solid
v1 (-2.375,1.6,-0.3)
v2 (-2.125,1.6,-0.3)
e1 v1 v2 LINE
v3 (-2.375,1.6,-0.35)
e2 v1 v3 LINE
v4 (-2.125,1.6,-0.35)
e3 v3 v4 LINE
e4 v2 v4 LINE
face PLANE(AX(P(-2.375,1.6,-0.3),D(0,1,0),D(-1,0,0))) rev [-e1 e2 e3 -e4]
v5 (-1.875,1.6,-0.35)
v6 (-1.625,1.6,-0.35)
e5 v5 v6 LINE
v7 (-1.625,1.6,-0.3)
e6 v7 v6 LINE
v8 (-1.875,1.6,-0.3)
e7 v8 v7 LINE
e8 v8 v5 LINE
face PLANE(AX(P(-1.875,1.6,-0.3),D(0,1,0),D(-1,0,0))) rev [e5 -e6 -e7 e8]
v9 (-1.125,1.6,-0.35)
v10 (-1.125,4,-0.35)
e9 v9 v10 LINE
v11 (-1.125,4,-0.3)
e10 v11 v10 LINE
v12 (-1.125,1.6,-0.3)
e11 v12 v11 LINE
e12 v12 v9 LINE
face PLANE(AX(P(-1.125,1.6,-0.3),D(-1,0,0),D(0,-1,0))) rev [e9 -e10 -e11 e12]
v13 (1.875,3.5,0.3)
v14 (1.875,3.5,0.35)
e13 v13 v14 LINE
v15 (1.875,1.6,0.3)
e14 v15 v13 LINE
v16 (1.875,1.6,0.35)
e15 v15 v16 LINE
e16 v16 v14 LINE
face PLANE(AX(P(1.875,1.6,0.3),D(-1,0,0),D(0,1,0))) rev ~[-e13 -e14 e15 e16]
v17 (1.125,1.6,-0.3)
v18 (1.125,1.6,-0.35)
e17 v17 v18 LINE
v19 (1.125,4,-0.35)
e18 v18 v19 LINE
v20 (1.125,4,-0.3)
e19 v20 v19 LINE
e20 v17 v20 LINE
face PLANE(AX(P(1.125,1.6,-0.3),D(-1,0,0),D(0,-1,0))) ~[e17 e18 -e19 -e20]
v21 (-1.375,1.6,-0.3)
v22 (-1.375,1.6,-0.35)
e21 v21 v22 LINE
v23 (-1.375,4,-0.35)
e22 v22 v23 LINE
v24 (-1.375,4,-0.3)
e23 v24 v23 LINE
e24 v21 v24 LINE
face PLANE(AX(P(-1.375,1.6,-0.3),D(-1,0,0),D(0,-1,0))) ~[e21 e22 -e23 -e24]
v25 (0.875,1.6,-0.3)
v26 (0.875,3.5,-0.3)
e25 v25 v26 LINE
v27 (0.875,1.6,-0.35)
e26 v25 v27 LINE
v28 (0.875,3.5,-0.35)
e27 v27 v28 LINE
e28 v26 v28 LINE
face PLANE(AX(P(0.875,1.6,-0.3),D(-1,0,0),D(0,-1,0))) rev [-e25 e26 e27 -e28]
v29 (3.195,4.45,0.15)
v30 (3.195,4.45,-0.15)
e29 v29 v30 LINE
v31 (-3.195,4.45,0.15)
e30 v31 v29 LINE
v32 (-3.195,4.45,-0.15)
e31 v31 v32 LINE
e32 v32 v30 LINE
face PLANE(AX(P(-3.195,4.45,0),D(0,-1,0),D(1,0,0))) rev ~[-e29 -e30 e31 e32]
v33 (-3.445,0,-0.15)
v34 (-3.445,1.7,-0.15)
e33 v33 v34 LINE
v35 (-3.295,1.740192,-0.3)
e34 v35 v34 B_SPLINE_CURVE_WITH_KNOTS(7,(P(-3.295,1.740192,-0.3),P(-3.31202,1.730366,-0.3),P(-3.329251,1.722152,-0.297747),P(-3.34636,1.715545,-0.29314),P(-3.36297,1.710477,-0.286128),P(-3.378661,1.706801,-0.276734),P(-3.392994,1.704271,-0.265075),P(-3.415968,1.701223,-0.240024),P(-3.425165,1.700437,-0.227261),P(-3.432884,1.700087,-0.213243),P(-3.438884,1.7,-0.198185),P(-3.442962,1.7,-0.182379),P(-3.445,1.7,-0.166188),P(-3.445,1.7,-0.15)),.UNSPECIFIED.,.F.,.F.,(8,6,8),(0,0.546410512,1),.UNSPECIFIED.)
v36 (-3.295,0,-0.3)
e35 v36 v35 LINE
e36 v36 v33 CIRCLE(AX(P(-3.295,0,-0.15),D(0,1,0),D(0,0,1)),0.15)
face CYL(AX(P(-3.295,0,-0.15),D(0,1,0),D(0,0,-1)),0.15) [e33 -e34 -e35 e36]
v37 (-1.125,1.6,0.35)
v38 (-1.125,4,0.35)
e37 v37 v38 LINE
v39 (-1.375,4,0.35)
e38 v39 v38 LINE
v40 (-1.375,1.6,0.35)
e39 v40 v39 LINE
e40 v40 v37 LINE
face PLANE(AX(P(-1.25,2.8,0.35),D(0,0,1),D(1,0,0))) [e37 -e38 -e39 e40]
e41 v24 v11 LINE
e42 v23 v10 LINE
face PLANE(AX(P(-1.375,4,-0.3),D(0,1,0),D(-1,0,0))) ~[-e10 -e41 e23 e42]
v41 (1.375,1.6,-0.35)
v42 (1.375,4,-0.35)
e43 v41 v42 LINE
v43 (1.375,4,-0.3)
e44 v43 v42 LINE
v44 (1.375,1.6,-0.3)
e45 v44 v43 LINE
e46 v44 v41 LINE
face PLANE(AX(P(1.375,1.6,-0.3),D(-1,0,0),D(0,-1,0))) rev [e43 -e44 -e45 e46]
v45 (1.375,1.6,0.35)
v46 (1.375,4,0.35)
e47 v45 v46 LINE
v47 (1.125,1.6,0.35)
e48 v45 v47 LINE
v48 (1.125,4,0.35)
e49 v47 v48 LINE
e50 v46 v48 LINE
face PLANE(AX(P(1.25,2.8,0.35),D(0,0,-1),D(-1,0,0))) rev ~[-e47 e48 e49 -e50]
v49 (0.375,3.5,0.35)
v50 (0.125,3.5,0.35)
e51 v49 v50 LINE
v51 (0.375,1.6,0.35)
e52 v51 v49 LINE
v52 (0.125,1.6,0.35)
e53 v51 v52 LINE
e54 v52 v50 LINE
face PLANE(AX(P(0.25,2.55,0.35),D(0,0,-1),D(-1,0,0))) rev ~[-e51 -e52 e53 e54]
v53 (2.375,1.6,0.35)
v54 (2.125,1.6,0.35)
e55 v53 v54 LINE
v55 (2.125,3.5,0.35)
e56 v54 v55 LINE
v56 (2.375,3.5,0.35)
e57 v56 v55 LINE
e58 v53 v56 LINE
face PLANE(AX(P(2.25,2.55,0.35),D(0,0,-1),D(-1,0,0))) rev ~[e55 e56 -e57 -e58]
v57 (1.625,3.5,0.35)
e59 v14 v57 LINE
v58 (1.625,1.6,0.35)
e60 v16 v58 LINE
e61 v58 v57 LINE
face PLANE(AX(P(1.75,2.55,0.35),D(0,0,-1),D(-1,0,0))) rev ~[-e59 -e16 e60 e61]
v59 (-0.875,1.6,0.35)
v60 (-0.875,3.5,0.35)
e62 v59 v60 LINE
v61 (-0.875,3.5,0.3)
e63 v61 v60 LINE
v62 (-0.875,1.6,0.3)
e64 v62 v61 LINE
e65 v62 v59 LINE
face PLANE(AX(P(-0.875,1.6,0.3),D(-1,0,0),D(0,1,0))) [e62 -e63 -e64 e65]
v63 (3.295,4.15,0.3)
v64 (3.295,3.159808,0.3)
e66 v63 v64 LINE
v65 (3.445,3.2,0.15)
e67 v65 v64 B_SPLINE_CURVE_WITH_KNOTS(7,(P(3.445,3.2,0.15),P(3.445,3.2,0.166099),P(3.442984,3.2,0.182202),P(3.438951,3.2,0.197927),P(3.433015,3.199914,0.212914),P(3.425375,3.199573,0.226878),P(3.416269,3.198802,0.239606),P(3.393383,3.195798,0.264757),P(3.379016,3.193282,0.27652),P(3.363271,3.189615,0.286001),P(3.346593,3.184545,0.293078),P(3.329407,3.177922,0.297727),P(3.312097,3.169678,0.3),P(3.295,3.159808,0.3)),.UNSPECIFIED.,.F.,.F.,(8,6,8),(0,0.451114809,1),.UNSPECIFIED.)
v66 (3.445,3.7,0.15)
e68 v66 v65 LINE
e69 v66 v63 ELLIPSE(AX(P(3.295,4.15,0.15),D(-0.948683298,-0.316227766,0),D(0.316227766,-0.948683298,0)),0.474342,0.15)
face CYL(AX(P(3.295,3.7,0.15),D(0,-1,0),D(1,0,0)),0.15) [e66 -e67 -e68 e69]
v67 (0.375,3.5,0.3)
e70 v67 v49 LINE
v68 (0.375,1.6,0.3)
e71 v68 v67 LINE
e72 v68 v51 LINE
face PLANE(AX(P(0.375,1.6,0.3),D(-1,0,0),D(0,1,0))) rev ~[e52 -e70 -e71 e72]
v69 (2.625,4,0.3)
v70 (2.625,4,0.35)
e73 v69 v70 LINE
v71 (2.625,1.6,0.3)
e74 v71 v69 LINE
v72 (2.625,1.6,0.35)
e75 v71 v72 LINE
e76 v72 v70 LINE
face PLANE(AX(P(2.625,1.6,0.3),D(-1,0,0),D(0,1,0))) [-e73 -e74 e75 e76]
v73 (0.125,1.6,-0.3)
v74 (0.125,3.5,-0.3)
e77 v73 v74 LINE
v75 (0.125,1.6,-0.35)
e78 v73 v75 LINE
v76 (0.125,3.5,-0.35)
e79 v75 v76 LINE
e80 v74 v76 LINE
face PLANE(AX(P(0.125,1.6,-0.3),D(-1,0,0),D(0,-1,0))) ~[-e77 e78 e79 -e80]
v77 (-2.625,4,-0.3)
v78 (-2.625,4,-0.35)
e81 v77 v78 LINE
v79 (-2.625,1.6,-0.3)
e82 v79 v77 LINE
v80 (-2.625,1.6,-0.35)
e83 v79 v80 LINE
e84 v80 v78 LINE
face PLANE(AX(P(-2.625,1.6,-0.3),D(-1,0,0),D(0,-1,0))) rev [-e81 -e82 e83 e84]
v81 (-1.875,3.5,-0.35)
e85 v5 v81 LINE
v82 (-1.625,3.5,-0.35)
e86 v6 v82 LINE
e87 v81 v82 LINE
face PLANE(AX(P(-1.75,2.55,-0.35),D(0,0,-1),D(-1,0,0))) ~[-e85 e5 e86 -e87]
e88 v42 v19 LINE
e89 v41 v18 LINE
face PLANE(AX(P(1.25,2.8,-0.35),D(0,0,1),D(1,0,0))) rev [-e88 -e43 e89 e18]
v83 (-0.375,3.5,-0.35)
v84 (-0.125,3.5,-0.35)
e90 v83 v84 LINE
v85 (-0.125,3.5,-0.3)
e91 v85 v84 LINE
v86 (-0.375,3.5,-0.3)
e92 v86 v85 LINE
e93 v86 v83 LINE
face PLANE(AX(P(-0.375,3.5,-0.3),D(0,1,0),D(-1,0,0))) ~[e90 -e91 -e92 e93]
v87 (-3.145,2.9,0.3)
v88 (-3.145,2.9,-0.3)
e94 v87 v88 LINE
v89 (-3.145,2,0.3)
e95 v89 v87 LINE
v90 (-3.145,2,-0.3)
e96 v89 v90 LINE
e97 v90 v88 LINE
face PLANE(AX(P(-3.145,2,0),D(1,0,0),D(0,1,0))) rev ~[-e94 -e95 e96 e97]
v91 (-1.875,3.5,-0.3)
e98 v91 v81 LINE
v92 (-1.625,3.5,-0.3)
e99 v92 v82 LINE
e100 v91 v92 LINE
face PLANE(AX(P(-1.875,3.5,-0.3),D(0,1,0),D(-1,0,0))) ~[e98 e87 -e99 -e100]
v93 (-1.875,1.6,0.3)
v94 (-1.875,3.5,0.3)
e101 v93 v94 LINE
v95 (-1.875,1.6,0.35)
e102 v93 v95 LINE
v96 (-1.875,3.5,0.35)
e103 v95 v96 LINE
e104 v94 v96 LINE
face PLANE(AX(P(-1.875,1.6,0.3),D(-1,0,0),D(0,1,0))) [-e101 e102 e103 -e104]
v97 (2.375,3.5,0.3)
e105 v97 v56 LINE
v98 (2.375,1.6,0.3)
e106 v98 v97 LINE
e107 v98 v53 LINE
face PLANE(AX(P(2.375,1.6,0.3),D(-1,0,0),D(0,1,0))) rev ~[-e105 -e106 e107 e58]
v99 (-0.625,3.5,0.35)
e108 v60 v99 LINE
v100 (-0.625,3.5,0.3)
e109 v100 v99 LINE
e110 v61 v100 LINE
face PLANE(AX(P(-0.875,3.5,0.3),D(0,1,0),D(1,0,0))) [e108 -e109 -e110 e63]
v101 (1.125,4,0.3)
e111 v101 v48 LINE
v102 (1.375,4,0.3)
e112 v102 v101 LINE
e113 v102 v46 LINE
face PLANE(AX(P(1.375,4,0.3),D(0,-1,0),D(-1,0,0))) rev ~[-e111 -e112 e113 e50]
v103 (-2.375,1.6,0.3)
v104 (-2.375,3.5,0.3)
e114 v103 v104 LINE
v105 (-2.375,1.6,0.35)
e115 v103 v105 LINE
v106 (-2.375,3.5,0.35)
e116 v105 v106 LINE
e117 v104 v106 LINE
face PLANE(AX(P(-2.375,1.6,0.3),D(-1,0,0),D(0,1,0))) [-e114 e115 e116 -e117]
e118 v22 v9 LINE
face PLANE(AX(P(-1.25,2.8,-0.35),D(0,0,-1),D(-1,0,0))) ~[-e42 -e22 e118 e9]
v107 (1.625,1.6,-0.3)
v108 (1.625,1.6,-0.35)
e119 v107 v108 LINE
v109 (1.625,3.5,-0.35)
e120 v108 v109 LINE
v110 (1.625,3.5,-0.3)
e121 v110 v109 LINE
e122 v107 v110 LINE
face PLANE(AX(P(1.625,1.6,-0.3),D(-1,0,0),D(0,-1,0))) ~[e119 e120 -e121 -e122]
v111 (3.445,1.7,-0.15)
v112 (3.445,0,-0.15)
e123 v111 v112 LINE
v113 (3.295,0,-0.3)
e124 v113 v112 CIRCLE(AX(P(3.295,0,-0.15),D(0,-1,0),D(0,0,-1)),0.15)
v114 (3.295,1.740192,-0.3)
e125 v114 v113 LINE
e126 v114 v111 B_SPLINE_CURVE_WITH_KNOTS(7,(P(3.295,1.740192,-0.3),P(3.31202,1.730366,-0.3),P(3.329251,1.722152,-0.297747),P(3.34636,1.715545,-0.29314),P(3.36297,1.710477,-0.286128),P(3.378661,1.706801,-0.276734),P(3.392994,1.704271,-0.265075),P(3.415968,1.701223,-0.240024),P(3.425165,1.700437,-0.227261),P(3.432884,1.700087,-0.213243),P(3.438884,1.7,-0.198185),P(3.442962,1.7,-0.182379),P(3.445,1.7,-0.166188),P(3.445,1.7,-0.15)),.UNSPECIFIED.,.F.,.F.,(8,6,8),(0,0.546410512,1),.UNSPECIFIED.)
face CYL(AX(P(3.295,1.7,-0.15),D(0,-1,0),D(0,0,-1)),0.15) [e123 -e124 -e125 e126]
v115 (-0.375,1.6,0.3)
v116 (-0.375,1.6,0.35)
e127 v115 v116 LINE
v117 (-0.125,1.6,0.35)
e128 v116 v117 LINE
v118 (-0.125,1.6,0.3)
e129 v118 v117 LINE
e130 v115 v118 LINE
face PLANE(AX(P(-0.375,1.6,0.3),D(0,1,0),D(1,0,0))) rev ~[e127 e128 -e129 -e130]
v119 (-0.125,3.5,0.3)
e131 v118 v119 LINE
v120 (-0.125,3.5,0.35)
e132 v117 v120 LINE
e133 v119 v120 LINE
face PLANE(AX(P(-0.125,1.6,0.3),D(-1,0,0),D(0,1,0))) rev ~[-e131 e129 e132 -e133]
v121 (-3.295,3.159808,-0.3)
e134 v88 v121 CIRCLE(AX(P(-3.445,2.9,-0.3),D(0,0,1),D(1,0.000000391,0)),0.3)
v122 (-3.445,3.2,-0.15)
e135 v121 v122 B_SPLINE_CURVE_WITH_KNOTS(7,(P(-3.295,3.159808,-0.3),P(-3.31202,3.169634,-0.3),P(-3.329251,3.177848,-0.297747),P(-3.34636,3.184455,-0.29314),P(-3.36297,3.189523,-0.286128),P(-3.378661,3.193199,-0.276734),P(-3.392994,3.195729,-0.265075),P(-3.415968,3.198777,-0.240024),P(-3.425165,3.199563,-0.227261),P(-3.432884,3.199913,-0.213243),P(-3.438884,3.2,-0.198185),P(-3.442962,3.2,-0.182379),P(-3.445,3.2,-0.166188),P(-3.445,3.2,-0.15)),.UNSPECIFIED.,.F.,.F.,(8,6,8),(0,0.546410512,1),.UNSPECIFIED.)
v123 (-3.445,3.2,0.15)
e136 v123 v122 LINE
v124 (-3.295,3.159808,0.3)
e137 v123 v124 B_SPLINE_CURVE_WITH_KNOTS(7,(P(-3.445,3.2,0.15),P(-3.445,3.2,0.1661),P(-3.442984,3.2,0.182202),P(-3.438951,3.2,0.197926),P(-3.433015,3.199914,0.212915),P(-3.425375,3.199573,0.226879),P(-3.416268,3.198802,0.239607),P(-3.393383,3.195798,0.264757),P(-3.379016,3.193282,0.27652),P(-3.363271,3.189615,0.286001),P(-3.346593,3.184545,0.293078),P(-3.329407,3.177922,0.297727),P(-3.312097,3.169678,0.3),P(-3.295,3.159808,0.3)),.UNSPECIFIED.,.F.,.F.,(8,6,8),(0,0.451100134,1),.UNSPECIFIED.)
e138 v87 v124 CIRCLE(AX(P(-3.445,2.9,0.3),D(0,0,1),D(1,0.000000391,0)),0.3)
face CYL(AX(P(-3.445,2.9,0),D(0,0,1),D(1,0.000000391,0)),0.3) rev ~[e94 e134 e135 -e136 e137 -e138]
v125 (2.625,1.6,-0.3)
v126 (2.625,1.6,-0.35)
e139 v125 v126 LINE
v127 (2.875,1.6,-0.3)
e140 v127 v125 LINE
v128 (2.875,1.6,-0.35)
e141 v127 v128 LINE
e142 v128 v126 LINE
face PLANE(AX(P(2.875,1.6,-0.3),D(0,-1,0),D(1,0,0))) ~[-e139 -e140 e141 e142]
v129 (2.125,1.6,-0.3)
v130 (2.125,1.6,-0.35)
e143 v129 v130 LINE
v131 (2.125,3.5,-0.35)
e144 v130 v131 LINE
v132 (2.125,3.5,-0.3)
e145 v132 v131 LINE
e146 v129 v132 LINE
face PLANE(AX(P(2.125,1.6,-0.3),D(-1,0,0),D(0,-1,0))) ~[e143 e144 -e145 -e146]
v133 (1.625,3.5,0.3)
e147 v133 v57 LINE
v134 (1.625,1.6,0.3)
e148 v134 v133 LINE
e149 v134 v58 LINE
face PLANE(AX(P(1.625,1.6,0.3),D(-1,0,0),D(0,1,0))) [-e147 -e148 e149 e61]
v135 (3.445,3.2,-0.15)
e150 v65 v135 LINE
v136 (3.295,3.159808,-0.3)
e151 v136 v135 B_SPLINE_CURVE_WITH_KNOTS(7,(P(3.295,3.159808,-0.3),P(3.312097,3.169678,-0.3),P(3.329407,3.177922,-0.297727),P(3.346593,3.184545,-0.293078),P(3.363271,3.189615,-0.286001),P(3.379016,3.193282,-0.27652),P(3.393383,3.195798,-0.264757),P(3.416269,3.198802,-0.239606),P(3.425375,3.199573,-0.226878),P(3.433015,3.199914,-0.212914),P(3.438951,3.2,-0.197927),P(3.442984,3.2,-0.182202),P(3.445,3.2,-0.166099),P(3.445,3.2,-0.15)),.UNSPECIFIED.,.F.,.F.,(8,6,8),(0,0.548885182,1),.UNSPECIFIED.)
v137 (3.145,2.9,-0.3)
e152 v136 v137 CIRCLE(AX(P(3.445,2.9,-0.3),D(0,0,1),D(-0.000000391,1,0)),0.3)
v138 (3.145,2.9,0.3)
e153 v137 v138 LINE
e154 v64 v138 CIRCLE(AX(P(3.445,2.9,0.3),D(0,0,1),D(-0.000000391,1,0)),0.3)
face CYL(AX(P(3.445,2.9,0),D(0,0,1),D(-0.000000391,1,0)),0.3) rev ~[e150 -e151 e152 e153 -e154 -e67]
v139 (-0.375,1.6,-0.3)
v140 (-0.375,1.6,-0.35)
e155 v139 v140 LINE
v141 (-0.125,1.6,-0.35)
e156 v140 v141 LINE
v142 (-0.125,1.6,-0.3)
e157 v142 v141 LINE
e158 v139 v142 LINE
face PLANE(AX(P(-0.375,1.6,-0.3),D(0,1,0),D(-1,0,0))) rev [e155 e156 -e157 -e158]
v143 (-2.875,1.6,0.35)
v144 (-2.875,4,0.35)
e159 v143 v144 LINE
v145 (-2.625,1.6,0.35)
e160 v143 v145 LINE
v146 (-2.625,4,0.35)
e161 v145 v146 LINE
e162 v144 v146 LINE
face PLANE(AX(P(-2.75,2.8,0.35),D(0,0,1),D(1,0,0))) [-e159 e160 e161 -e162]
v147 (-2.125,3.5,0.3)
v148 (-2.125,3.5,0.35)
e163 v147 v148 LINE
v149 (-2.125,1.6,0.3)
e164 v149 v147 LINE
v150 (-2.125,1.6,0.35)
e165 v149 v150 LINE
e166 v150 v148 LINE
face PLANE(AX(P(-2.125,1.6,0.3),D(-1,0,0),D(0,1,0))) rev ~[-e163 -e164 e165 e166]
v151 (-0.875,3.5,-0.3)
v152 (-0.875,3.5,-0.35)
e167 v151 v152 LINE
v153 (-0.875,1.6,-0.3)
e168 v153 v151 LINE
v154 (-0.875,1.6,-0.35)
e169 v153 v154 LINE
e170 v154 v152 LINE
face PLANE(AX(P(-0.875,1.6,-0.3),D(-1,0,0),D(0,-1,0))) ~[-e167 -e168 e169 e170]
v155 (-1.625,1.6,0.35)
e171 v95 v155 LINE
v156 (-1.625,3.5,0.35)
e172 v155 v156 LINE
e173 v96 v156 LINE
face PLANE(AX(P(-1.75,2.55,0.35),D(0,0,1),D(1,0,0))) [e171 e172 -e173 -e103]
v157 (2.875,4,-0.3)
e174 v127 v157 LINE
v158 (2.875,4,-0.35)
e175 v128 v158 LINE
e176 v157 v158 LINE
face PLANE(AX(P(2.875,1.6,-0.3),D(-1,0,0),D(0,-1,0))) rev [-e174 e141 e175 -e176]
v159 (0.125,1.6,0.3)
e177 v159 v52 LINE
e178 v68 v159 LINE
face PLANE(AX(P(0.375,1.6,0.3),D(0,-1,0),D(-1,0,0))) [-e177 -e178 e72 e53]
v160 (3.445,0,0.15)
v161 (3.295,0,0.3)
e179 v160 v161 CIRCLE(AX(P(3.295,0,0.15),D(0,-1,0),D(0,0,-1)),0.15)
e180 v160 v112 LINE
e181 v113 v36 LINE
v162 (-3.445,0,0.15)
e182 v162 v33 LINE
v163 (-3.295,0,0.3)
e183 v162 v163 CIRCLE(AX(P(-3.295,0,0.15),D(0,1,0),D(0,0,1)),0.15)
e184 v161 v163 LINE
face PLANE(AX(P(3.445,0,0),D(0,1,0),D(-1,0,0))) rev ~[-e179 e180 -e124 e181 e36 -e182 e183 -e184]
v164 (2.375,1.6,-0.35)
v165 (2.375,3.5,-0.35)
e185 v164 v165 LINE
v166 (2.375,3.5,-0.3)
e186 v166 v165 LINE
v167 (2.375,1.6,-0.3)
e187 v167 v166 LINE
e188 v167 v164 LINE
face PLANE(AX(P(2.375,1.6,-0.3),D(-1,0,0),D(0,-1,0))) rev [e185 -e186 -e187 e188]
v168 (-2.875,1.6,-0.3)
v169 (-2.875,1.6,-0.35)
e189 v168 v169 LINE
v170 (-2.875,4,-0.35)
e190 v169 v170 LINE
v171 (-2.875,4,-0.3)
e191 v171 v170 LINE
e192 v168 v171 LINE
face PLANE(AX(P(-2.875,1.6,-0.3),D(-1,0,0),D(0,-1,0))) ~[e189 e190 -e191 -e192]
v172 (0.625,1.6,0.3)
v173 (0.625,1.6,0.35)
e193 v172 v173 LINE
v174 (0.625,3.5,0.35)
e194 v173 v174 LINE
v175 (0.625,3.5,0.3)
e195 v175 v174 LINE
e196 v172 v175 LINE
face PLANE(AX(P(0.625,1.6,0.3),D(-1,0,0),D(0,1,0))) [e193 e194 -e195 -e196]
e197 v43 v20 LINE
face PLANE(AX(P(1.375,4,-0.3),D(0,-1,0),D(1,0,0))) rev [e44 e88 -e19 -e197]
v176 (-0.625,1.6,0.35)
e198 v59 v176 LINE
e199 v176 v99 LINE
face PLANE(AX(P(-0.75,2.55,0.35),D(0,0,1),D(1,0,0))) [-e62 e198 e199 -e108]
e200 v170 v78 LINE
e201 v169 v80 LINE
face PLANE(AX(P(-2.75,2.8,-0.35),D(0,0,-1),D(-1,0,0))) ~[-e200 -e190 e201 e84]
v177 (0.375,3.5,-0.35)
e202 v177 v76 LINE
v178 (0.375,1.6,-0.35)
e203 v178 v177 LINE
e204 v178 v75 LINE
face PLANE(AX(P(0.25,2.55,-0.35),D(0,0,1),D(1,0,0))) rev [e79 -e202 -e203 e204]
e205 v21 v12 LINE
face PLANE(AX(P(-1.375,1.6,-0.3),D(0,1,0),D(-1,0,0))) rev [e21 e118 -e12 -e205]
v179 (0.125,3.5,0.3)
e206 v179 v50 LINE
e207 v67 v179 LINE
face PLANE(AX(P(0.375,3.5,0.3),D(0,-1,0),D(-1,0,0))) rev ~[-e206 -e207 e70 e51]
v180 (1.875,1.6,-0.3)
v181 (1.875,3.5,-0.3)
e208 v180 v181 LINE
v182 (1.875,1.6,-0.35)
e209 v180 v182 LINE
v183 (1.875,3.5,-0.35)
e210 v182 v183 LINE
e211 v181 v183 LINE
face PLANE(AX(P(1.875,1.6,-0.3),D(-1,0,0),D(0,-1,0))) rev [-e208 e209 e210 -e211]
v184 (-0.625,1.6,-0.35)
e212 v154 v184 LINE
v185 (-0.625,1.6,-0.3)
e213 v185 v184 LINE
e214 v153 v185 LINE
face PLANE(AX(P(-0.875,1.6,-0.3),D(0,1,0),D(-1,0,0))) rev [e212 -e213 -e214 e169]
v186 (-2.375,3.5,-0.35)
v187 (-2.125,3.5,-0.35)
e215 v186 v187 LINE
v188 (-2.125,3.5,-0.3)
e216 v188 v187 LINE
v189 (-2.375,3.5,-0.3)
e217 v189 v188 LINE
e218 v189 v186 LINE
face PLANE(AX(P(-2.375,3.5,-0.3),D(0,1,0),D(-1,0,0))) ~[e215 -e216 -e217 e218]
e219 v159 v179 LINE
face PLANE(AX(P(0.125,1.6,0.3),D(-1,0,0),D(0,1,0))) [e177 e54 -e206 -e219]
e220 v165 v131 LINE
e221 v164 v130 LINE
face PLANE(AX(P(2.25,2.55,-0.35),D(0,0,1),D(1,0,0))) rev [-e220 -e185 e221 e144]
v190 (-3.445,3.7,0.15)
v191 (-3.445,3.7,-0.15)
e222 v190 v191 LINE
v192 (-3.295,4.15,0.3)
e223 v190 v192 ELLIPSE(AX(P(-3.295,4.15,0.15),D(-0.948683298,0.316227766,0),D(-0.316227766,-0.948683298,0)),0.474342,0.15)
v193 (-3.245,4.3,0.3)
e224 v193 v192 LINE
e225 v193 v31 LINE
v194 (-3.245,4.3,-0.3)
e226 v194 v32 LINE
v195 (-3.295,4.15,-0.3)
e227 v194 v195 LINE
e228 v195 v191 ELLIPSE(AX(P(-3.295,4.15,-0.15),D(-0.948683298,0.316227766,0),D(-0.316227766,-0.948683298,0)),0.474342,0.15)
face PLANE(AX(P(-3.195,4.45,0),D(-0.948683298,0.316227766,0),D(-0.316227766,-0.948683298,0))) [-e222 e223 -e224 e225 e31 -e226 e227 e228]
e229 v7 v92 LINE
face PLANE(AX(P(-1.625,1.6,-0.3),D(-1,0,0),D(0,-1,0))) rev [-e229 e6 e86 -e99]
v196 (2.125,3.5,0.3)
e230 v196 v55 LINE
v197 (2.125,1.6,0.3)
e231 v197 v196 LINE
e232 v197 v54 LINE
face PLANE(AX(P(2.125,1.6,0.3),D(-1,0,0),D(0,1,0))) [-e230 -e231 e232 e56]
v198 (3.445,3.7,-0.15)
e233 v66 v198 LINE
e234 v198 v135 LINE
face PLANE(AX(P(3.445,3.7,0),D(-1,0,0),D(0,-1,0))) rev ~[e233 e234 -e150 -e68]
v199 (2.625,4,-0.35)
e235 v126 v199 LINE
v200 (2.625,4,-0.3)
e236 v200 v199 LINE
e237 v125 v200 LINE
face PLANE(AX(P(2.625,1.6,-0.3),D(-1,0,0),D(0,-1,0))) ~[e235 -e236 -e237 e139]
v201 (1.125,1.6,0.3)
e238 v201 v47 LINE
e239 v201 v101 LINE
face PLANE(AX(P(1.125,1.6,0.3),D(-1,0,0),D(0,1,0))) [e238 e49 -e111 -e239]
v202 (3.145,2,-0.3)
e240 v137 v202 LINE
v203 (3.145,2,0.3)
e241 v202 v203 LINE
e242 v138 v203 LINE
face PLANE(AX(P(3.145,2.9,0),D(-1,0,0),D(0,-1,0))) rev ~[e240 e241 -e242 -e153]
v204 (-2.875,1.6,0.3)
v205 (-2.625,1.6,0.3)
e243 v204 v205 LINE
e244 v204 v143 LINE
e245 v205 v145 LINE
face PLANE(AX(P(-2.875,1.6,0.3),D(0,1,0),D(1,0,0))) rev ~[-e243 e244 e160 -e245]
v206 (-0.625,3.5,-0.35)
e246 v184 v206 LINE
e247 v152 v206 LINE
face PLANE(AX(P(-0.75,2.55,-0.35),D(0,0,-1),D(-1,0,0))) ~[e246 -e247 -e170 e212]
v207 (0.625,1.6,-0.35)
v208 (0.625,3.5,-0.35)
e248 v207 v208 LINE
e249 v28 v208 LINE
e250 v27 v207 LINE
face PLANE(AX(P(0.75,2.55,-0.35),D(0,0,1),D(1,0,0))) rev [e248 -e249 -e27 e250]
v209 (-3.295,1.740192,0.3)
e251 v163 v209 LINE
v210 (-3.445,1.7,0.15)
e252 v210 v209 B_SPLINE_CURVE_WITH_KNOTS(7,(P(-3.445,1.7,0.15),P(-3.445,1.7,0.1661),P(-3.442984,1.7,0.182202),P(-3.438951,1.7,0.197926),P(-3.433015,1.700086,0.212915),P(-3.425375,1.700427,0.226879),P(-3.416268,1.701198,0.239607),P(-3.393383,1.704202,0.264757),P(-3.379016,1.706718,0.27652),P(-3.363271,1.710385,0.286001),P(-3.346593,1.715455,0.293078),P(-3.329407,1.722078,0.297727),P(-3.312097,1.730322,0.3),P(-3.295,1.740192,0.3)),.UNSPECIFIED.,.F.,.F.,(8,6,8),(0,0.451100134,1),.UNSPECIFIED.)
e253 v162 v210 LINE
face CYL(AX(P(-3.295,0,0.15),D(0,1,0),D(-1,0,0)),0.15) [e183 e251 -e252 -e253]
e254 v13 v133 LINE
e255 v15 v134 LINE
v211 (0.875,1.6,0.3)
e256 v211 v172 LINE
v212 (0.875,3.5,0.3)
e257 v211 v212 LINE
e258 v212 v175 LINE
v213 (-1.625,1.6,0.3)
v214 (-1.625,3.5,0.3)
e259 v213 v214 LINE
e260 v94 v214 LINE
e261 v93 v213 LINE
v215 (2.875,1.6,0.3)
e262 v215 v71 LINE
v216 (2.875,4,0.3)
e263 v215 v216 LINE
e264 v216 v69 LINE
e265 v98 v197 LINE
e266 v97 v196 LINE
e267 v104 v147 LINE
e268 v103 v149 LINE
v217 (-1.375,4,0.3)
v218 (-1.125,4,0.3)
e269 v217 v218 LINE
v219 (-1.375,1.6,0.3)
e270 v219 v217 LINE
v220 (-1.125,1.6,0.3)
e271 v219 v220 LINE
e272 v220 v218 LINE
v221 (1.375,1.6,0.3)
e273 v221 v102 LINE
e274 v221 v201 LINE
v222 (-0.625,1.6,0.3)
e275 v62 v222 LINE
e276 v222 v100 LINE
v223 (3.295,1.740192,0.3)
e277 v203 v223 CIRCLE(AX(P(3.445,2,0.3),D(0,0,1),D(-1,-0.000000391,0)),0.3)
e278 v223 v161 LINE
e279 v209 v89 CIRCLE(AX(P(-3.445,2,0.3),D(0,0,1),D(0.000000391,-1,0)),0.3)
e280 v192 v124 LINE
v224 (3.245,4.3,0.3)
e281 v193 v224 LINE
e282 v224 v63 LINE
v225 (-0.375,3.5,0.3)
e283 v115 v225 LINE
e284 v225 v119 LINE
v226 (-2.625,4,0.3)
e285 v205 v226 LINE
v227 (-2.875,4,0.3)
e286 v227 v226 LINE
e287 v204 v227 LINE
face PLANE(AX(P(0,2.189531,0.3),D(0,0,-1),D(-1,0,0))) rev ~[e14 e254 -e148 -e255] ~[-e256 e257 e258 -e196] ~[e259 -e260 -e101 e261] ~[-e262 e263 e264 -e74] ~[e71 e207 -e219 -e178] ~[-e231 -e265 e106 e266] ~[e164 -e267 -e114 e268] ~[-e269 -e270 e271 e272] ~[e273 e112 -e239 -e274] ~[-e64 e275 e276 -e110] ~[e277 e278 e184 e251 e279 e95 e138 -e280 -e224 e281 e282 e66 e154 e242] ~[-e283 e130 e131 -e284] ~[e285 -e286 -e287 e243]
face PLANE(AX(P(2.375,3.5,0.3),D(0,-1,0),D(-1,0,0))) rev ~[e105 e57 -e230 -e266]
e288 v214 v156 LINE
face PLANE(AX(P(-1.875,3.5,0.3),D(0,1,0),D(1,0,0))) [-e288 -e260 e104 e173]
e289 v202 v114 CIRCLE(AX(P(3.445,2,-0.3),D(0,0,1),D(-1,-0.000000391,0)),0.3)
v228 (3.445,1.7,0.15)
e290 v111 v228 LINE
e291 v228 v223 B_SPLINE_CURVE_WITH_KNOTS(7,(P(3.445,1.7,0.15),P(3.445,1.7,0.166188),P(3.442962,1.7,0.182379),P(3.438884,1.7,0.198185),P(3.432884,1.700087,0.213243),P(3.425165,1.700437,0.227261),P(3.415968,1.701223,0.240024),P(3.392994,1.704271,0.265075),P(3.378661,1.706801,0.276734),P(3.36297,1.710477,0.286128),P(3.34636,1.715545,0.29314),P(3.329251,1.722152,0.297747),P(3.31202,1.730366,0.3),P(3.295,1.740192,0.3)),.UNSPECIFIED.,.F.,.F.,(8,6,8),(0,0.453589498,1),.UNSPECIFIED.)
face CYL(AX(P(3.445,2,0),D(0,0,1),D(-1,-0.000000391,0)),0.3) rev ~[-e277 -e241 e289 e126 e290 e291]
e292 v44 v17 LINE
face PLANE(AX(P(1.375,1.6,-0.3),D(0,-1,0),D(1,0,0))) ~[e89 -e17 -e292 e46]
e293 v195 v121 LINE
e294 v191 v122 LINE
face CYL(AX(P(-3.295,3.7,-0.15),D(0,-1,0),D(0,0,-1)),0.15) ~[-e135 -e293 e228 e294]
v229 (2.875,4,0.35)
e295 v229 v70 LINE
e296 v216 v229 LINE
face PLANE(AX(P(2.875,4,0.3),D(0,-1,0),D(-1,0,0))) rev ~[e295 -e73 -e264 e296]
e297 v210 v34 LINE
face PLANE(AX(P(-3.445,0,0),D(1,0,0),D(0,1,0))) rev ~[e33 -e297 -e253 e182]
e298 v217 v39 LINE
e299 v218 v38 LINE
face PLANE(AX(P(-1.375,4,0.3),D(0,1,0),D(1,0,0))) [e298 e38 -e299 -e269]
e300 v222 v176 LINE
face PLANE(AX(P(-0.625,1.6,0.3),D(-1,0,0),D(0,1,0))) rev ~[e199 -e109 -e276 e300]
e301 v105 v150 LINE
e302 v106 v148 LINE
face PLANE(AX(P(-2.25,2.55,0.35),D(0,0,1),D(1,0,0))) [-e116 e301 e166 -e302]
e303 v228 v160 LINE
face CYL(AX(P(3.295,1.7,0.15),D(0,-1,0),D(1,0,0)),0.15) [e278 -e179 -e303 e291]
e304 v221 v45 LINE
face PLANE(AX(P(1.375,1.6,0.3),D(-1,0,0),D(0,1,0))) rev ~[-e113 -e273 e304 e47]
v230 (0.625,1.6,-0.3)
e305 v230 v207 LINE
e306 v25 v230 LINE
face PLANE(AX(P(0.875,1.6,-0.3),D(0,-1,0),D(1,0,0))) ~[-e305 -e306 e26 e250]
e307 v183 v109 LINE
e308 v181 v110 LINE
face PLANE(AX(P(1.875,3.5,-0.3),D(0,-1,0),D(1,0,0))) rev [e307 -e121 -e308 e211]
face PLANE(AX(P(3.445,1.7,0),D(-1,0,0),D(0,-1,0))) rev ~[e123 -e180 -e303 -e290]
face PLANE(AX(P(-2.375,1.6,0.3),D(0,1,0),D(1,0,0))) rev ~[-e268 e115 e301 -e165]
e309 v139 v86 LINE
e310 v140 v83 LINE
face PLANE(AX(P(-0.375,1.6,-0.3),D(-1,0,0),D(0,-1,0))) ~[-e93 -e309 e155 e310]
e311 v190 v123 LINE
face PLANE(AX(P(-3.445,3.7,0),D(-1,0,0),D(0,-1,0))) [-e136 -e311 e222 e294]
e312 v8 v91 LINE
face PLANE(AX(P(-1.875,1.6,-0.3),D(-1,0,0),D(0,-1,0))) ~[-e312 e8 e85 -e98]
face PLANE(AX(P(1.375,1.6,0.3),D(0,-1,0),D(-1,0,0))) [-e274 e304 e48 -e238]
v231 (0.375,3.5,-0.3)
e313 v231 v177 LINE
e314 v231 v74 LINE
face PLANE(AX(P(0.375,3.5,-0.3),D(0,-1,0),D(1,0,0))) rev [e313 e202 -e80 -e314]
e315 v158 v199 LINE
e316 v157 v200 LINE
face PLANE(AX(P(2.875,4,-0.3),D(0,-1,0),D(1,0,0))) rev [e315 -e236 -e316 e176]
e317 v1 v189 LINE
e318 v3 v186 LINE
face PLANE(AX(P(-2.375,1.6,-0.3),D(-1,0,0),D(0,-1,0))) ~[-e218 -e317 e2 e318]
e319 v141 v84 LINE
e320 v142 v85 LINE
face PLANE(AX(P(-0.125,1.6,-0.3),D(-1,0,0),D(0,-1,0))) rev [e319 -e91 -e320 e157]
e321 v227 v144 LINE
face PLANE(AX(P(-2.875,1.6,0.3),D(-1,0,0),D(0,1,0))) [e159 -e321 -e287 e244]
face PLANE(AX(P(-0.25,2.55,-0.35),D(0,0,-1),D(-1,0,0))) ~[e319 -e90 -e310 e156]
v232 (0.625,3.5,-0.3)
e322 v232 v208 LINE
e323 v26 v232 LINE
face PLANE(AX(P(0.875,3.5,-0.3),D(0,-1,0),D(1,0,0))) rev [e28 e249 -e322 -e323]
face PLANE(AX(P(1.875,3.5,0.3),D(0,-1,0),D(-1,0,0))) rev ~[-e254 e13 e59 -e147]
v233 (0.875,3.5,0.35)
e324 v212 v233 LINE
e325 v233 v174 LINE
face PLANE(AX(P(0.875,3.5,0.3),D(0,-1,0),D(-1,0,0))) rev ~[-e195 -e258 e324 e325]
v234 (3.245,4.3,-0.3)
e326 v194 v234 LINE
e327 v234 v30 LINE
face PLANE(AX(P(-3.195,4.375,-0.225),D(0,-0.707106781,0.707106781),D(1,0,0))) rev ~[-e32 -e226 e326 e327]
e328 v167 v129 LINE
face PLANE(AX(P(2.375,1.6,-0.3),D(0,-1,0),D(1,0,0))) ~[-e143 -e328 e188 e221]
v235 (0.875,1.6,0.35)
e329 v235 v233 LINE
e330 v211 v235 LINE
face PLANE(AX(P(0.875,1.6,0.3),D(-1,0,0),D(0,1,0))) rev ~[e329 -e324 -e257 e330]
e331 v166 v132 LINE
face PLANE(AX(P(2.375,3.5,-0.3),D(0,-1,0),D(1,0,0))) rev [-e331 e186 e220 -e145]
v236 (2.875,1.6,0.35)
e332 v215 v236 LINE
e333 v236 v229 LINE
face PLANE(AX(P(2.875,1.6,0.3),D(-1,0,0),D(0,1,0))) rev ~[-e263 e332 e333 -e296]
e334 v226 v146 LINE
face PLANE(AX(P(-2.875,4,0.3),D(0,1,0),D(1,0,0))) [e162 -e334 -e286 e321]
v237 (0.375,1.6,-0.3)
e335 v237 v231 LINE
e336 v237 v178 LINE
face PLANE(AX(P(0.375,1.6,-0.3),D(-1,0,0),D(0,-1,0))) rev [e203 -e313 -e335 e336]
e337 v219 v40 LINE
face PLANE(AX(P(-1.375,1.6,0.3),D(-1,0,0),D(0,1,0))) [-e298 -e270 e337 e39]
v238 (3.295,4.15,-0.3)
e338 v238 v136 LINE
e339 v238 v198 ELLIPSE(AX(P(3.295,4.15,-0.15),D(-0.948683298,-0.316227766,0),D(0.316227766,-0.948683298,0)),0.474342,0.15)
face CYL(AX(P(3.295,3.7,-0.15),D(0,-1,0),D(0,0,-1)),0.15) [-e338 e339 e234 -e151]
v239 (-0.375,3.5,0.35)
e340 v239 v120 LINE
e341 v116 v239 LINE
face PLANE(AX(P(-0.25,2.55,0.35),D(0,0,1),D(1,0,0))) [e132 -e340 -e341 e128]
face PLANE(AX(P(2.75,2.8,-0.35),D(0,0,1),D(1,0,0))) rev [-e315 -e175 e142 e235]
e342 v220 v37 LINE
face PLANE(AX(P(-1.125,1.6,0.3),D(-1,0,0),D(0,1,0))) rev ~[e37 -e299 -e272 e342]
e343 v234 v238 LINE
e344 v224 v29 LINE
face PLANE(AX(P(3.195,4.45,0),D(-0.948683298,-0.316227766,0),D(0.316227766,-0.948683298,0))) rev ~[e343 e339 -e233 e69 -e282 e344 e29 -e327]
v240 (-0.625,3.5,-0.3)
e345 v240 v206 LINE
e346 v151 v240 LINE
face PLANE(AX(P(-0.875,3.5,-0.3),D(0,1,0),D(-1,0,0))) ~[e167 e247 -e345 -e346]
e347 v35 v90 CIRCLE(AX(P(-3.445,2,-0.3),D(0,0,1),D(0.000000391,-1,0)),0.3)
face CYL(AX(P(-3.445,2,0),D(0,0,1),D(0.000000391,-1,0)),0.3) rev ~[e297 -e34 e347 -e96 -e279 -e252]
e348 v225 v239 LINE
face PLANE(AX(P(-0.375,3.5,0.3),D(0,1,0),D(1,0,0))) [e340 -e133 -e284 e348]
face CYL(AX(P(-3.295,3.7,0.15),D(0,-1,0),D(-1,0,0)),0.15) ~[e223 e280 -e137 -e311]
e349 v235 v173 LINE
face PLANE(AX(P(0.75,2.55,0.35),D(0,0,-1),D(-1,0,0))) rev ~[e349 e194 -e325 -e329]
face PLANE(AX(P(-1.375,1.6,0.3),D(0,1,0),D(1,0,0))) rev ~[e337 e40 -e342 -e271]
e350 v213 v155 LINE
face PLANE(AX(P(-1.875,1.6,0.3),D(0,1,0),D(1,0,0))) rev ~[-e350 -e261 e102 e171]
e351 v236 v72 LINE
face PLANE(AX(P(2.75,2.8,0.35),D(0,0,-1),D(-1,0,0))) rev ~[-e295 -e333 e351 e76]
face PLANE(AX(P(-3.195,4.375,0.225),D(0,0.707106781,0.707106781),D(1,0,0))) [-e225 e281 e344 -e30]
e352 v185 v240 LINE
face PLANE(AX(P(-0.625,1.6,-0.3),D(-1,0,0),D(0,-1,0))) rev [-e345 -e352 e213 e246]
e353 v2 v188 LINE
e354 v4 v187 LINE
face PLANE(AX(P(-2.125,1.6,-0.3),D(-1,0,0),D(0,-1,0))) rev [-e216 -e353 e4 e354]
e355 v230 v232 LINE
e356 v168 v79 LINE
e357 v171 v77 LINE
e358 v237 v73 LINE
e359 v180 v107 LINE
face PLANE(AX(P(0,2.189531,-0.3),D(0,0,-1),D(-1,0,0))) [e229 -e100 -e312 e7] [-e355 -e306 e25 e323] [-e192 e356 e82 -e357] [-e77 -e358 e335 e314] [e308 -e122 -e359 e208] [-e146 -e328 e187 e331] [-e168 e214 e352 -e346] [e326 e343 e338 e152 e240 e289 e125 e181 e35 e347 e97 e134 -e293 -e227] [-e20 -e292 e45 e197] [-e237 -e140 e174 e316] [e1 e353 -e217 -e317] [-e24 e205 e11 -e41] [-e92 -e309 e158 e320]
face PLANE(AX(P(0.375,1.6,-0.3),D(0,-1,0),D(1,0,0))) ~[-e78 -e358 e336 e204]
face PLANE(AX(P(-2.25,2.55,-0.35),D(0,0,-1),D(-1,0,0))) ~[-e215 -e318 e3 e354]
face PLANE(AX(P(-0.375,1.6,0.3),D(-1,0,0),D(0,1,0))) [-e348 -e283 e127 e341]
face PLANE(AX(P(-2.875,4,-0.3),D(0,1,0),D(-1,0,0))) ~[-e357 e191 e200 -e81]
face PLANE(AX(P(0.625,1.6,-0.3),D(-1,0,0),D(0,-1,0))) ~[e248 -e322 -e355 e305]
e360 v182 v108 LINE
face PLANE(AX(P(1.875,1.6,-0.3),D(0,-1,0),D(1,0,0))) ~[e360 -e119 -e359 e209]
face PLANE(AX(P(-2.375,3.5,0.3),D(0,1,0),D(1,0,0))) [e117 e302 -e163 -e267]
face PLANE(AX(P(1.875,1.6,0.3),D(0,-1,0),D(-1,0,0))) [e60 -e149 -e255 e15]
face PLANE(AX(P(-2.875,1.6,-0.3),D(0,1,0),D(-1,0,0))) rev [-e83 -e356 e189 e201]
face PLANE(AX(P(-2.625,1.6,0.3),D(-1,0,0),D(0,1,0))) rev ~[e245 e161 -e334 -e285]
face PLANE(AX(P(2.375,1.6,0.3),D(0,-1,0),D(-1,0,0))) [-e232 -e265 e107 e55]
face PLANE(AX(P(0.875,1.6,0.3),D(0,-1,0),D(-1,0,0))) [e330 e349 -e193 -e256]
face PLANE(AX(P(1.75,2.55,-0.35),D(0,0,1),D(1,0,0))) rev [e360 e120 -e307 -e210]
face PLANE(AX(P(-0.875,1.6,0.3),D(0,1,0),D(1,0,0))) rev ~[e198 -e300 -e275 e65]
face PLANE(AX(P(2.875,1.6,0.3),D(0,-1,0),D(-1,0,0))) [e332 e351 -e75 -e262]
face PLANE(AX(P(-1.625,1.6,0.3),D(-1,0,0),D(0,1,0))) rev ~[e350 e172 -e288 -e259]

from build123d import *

# Parameters (mm, degrees)
PAD004_DEPTH             = 0.3
SKETCH003_W              = 0.25
SKETCH003_H              = 2.4
SKETCH003_H_2            = 1.9
PAD011_DEPTH             = 0.05
SKETCH003_MIRRORED_2_W   = 0.25
SKETCH003_MIRRORED_2_H   = 2.4
SKETCH003_MIRRORED_2_H_2 = 1.9
PAD011_MIRRORED_2_DEPTH  = 0.05
CHAMFER_SIZE             = 0.15
FILLET_R                 = 0.15


with BuildPart() as part:
    # Sketch001 → Pad004 (new body, symmetric)
    with BuildSketch(Plane.XY):
        with BuildLine():
            Line((3.445, 1.7), (3.445, 0))
            Line((3.445, 0), (-3.445, 0))
            Line((-3.445, 0), (-3.445, 1.7))
            ThreePointArc((-3.445, 1.7), (-3.232868, 1.787868), (-3.145, 2))
            Line((-3.145, 2), (-3.145, 2.9))
            ThreePointArc((-3.145, 2.9), (-3.232868, 3.112132), (-3.445, 3.2))
            Line((-3.445, 3.7), (-3.445, 3.2))
            Line((-3.195, 4.45), (-3.445, 3.7))
            Line((-3.195, 4.45), (3.195, 4.45))
            Line((3.195, 4.45), (3.445, 3.7))
            Line((3.445, 3.7), (3.445, 3.2))
            ThreePointArc((3.445, 3.2), (3.232868, 3.112132), (3.145, 2.9))
            Line((3.145, 2.9), (3.145, 2))
            ThreePointArc((3.145, 2), (3.232868, 1.787868), (3.445, 1.7))
        make_face()
    extrude(amount=PAD004_DEPTH, both=True)

    # Sketch003 (on Face16 of Pad004) → Pad011 (join)
    with BuildSketch(Plane.XY.offset(0.3)):
        with Locations((-2.75, 2.8)):
            Rectangle(SKETCH003_W, SKETCH003_H)
        with Locations((-1.25, 2.8)):
            Rectangle(SKETCH003_W, SKETCH003_H)
        with Locations((-2.25, 2.55)):
            Rectangle(SKETCH003_W, SKETCH003_H_2)
        with Locations((-1.75, 2.55)):
            Rectangle(SKETCH003_W, SKETCH003_H_2)
        with Locations((-0.75, 2.55)):
            Rectangle(SKETCH003_W, SKETCH003_H_2)
        with Locations((-0.25, 2.55)):
            Rectangle(SKETCH003_W, SKETCH003_H_2)
    pad011 = extrude(amount=PAD011_DEPTH)

    # Sketch003 Mirrored 2 → Pad011 Mirrored 2 (add)
    with BuildSketch(Plane(origin=(0, 0, 0.3), x_dir=(-1, 0, 0), z_dir=(0, 0, -1))):
        with Locations((-2.75, 2.8)):
            Rectangle(SKETCH003_MIRRORED_2_W, SKETCH003_MIRRORED_2_H)
        with Locations((-1.25, 2.8)):
            Rectangle(SKETCH003_MIRRORED_2_W, SKETCH003_MIRRORED_2_H)
        with Locations((-2.25, 2.55)):
            Rectangle(SKETCH003_MIRRORED_2_W, SKETCH003_MIRRORED_2_H_2)
        with Locations((-1.75, 2.55)):
            Rectangle(SKETCH003_MIRRORED_2_W, SKETCH003_MIRRORED_2_H_2)
        with Locations((-0.75, 2.55)):
            Rectangle(SKETCH003_MIRRORED_2_W, SKETCH003_MIRRORED_2_H_2)
        with Locations((-0.25, 2.55)):
            Rectangle(SKETCH003_MIRRORED_2_W, SKETCH003_MIRRORED_2_H_2)
    pad011_mirrored_2 = extrude(amount=-PAD011_MIRRORED_2_DEPTH)

    # Mirrored001: Pad011, Pad011 Mirrored 2 across XY
    add(pad011.mirror(Plane.XY))
    add(pad011_mirrored_2.mirror(Plane.XY))

    # Chamfer
    chamfer_edges = [part.edges().sort_by_distance(p)[0] for p in [
        (0, 4.45, -0.3),
        (0, 4.45, 0.3),
    ]]
    chamfer(chamfer_edges, length=CHAMFER_SIZE)

    # Fillet
    fillet_edges = [part.edges().sort_by_distance(p)[0] for p in [
        (-3.445, 3.45, 0.3),
        (-3.445, 3.45, -0.3),
        (-3.445, 0.85, 0.3),
        (-3.445, 0.85, -0.3),
        (3.445, 0.85, 0.3),
        (3.445, 0.85, -0.3),
        (3.445, 3.45, 0.3),
        (3.445, 3.45, -0.3),
    ]]
    fillet(fillet_edges, radius=FILLET_R)


solid = part.part
